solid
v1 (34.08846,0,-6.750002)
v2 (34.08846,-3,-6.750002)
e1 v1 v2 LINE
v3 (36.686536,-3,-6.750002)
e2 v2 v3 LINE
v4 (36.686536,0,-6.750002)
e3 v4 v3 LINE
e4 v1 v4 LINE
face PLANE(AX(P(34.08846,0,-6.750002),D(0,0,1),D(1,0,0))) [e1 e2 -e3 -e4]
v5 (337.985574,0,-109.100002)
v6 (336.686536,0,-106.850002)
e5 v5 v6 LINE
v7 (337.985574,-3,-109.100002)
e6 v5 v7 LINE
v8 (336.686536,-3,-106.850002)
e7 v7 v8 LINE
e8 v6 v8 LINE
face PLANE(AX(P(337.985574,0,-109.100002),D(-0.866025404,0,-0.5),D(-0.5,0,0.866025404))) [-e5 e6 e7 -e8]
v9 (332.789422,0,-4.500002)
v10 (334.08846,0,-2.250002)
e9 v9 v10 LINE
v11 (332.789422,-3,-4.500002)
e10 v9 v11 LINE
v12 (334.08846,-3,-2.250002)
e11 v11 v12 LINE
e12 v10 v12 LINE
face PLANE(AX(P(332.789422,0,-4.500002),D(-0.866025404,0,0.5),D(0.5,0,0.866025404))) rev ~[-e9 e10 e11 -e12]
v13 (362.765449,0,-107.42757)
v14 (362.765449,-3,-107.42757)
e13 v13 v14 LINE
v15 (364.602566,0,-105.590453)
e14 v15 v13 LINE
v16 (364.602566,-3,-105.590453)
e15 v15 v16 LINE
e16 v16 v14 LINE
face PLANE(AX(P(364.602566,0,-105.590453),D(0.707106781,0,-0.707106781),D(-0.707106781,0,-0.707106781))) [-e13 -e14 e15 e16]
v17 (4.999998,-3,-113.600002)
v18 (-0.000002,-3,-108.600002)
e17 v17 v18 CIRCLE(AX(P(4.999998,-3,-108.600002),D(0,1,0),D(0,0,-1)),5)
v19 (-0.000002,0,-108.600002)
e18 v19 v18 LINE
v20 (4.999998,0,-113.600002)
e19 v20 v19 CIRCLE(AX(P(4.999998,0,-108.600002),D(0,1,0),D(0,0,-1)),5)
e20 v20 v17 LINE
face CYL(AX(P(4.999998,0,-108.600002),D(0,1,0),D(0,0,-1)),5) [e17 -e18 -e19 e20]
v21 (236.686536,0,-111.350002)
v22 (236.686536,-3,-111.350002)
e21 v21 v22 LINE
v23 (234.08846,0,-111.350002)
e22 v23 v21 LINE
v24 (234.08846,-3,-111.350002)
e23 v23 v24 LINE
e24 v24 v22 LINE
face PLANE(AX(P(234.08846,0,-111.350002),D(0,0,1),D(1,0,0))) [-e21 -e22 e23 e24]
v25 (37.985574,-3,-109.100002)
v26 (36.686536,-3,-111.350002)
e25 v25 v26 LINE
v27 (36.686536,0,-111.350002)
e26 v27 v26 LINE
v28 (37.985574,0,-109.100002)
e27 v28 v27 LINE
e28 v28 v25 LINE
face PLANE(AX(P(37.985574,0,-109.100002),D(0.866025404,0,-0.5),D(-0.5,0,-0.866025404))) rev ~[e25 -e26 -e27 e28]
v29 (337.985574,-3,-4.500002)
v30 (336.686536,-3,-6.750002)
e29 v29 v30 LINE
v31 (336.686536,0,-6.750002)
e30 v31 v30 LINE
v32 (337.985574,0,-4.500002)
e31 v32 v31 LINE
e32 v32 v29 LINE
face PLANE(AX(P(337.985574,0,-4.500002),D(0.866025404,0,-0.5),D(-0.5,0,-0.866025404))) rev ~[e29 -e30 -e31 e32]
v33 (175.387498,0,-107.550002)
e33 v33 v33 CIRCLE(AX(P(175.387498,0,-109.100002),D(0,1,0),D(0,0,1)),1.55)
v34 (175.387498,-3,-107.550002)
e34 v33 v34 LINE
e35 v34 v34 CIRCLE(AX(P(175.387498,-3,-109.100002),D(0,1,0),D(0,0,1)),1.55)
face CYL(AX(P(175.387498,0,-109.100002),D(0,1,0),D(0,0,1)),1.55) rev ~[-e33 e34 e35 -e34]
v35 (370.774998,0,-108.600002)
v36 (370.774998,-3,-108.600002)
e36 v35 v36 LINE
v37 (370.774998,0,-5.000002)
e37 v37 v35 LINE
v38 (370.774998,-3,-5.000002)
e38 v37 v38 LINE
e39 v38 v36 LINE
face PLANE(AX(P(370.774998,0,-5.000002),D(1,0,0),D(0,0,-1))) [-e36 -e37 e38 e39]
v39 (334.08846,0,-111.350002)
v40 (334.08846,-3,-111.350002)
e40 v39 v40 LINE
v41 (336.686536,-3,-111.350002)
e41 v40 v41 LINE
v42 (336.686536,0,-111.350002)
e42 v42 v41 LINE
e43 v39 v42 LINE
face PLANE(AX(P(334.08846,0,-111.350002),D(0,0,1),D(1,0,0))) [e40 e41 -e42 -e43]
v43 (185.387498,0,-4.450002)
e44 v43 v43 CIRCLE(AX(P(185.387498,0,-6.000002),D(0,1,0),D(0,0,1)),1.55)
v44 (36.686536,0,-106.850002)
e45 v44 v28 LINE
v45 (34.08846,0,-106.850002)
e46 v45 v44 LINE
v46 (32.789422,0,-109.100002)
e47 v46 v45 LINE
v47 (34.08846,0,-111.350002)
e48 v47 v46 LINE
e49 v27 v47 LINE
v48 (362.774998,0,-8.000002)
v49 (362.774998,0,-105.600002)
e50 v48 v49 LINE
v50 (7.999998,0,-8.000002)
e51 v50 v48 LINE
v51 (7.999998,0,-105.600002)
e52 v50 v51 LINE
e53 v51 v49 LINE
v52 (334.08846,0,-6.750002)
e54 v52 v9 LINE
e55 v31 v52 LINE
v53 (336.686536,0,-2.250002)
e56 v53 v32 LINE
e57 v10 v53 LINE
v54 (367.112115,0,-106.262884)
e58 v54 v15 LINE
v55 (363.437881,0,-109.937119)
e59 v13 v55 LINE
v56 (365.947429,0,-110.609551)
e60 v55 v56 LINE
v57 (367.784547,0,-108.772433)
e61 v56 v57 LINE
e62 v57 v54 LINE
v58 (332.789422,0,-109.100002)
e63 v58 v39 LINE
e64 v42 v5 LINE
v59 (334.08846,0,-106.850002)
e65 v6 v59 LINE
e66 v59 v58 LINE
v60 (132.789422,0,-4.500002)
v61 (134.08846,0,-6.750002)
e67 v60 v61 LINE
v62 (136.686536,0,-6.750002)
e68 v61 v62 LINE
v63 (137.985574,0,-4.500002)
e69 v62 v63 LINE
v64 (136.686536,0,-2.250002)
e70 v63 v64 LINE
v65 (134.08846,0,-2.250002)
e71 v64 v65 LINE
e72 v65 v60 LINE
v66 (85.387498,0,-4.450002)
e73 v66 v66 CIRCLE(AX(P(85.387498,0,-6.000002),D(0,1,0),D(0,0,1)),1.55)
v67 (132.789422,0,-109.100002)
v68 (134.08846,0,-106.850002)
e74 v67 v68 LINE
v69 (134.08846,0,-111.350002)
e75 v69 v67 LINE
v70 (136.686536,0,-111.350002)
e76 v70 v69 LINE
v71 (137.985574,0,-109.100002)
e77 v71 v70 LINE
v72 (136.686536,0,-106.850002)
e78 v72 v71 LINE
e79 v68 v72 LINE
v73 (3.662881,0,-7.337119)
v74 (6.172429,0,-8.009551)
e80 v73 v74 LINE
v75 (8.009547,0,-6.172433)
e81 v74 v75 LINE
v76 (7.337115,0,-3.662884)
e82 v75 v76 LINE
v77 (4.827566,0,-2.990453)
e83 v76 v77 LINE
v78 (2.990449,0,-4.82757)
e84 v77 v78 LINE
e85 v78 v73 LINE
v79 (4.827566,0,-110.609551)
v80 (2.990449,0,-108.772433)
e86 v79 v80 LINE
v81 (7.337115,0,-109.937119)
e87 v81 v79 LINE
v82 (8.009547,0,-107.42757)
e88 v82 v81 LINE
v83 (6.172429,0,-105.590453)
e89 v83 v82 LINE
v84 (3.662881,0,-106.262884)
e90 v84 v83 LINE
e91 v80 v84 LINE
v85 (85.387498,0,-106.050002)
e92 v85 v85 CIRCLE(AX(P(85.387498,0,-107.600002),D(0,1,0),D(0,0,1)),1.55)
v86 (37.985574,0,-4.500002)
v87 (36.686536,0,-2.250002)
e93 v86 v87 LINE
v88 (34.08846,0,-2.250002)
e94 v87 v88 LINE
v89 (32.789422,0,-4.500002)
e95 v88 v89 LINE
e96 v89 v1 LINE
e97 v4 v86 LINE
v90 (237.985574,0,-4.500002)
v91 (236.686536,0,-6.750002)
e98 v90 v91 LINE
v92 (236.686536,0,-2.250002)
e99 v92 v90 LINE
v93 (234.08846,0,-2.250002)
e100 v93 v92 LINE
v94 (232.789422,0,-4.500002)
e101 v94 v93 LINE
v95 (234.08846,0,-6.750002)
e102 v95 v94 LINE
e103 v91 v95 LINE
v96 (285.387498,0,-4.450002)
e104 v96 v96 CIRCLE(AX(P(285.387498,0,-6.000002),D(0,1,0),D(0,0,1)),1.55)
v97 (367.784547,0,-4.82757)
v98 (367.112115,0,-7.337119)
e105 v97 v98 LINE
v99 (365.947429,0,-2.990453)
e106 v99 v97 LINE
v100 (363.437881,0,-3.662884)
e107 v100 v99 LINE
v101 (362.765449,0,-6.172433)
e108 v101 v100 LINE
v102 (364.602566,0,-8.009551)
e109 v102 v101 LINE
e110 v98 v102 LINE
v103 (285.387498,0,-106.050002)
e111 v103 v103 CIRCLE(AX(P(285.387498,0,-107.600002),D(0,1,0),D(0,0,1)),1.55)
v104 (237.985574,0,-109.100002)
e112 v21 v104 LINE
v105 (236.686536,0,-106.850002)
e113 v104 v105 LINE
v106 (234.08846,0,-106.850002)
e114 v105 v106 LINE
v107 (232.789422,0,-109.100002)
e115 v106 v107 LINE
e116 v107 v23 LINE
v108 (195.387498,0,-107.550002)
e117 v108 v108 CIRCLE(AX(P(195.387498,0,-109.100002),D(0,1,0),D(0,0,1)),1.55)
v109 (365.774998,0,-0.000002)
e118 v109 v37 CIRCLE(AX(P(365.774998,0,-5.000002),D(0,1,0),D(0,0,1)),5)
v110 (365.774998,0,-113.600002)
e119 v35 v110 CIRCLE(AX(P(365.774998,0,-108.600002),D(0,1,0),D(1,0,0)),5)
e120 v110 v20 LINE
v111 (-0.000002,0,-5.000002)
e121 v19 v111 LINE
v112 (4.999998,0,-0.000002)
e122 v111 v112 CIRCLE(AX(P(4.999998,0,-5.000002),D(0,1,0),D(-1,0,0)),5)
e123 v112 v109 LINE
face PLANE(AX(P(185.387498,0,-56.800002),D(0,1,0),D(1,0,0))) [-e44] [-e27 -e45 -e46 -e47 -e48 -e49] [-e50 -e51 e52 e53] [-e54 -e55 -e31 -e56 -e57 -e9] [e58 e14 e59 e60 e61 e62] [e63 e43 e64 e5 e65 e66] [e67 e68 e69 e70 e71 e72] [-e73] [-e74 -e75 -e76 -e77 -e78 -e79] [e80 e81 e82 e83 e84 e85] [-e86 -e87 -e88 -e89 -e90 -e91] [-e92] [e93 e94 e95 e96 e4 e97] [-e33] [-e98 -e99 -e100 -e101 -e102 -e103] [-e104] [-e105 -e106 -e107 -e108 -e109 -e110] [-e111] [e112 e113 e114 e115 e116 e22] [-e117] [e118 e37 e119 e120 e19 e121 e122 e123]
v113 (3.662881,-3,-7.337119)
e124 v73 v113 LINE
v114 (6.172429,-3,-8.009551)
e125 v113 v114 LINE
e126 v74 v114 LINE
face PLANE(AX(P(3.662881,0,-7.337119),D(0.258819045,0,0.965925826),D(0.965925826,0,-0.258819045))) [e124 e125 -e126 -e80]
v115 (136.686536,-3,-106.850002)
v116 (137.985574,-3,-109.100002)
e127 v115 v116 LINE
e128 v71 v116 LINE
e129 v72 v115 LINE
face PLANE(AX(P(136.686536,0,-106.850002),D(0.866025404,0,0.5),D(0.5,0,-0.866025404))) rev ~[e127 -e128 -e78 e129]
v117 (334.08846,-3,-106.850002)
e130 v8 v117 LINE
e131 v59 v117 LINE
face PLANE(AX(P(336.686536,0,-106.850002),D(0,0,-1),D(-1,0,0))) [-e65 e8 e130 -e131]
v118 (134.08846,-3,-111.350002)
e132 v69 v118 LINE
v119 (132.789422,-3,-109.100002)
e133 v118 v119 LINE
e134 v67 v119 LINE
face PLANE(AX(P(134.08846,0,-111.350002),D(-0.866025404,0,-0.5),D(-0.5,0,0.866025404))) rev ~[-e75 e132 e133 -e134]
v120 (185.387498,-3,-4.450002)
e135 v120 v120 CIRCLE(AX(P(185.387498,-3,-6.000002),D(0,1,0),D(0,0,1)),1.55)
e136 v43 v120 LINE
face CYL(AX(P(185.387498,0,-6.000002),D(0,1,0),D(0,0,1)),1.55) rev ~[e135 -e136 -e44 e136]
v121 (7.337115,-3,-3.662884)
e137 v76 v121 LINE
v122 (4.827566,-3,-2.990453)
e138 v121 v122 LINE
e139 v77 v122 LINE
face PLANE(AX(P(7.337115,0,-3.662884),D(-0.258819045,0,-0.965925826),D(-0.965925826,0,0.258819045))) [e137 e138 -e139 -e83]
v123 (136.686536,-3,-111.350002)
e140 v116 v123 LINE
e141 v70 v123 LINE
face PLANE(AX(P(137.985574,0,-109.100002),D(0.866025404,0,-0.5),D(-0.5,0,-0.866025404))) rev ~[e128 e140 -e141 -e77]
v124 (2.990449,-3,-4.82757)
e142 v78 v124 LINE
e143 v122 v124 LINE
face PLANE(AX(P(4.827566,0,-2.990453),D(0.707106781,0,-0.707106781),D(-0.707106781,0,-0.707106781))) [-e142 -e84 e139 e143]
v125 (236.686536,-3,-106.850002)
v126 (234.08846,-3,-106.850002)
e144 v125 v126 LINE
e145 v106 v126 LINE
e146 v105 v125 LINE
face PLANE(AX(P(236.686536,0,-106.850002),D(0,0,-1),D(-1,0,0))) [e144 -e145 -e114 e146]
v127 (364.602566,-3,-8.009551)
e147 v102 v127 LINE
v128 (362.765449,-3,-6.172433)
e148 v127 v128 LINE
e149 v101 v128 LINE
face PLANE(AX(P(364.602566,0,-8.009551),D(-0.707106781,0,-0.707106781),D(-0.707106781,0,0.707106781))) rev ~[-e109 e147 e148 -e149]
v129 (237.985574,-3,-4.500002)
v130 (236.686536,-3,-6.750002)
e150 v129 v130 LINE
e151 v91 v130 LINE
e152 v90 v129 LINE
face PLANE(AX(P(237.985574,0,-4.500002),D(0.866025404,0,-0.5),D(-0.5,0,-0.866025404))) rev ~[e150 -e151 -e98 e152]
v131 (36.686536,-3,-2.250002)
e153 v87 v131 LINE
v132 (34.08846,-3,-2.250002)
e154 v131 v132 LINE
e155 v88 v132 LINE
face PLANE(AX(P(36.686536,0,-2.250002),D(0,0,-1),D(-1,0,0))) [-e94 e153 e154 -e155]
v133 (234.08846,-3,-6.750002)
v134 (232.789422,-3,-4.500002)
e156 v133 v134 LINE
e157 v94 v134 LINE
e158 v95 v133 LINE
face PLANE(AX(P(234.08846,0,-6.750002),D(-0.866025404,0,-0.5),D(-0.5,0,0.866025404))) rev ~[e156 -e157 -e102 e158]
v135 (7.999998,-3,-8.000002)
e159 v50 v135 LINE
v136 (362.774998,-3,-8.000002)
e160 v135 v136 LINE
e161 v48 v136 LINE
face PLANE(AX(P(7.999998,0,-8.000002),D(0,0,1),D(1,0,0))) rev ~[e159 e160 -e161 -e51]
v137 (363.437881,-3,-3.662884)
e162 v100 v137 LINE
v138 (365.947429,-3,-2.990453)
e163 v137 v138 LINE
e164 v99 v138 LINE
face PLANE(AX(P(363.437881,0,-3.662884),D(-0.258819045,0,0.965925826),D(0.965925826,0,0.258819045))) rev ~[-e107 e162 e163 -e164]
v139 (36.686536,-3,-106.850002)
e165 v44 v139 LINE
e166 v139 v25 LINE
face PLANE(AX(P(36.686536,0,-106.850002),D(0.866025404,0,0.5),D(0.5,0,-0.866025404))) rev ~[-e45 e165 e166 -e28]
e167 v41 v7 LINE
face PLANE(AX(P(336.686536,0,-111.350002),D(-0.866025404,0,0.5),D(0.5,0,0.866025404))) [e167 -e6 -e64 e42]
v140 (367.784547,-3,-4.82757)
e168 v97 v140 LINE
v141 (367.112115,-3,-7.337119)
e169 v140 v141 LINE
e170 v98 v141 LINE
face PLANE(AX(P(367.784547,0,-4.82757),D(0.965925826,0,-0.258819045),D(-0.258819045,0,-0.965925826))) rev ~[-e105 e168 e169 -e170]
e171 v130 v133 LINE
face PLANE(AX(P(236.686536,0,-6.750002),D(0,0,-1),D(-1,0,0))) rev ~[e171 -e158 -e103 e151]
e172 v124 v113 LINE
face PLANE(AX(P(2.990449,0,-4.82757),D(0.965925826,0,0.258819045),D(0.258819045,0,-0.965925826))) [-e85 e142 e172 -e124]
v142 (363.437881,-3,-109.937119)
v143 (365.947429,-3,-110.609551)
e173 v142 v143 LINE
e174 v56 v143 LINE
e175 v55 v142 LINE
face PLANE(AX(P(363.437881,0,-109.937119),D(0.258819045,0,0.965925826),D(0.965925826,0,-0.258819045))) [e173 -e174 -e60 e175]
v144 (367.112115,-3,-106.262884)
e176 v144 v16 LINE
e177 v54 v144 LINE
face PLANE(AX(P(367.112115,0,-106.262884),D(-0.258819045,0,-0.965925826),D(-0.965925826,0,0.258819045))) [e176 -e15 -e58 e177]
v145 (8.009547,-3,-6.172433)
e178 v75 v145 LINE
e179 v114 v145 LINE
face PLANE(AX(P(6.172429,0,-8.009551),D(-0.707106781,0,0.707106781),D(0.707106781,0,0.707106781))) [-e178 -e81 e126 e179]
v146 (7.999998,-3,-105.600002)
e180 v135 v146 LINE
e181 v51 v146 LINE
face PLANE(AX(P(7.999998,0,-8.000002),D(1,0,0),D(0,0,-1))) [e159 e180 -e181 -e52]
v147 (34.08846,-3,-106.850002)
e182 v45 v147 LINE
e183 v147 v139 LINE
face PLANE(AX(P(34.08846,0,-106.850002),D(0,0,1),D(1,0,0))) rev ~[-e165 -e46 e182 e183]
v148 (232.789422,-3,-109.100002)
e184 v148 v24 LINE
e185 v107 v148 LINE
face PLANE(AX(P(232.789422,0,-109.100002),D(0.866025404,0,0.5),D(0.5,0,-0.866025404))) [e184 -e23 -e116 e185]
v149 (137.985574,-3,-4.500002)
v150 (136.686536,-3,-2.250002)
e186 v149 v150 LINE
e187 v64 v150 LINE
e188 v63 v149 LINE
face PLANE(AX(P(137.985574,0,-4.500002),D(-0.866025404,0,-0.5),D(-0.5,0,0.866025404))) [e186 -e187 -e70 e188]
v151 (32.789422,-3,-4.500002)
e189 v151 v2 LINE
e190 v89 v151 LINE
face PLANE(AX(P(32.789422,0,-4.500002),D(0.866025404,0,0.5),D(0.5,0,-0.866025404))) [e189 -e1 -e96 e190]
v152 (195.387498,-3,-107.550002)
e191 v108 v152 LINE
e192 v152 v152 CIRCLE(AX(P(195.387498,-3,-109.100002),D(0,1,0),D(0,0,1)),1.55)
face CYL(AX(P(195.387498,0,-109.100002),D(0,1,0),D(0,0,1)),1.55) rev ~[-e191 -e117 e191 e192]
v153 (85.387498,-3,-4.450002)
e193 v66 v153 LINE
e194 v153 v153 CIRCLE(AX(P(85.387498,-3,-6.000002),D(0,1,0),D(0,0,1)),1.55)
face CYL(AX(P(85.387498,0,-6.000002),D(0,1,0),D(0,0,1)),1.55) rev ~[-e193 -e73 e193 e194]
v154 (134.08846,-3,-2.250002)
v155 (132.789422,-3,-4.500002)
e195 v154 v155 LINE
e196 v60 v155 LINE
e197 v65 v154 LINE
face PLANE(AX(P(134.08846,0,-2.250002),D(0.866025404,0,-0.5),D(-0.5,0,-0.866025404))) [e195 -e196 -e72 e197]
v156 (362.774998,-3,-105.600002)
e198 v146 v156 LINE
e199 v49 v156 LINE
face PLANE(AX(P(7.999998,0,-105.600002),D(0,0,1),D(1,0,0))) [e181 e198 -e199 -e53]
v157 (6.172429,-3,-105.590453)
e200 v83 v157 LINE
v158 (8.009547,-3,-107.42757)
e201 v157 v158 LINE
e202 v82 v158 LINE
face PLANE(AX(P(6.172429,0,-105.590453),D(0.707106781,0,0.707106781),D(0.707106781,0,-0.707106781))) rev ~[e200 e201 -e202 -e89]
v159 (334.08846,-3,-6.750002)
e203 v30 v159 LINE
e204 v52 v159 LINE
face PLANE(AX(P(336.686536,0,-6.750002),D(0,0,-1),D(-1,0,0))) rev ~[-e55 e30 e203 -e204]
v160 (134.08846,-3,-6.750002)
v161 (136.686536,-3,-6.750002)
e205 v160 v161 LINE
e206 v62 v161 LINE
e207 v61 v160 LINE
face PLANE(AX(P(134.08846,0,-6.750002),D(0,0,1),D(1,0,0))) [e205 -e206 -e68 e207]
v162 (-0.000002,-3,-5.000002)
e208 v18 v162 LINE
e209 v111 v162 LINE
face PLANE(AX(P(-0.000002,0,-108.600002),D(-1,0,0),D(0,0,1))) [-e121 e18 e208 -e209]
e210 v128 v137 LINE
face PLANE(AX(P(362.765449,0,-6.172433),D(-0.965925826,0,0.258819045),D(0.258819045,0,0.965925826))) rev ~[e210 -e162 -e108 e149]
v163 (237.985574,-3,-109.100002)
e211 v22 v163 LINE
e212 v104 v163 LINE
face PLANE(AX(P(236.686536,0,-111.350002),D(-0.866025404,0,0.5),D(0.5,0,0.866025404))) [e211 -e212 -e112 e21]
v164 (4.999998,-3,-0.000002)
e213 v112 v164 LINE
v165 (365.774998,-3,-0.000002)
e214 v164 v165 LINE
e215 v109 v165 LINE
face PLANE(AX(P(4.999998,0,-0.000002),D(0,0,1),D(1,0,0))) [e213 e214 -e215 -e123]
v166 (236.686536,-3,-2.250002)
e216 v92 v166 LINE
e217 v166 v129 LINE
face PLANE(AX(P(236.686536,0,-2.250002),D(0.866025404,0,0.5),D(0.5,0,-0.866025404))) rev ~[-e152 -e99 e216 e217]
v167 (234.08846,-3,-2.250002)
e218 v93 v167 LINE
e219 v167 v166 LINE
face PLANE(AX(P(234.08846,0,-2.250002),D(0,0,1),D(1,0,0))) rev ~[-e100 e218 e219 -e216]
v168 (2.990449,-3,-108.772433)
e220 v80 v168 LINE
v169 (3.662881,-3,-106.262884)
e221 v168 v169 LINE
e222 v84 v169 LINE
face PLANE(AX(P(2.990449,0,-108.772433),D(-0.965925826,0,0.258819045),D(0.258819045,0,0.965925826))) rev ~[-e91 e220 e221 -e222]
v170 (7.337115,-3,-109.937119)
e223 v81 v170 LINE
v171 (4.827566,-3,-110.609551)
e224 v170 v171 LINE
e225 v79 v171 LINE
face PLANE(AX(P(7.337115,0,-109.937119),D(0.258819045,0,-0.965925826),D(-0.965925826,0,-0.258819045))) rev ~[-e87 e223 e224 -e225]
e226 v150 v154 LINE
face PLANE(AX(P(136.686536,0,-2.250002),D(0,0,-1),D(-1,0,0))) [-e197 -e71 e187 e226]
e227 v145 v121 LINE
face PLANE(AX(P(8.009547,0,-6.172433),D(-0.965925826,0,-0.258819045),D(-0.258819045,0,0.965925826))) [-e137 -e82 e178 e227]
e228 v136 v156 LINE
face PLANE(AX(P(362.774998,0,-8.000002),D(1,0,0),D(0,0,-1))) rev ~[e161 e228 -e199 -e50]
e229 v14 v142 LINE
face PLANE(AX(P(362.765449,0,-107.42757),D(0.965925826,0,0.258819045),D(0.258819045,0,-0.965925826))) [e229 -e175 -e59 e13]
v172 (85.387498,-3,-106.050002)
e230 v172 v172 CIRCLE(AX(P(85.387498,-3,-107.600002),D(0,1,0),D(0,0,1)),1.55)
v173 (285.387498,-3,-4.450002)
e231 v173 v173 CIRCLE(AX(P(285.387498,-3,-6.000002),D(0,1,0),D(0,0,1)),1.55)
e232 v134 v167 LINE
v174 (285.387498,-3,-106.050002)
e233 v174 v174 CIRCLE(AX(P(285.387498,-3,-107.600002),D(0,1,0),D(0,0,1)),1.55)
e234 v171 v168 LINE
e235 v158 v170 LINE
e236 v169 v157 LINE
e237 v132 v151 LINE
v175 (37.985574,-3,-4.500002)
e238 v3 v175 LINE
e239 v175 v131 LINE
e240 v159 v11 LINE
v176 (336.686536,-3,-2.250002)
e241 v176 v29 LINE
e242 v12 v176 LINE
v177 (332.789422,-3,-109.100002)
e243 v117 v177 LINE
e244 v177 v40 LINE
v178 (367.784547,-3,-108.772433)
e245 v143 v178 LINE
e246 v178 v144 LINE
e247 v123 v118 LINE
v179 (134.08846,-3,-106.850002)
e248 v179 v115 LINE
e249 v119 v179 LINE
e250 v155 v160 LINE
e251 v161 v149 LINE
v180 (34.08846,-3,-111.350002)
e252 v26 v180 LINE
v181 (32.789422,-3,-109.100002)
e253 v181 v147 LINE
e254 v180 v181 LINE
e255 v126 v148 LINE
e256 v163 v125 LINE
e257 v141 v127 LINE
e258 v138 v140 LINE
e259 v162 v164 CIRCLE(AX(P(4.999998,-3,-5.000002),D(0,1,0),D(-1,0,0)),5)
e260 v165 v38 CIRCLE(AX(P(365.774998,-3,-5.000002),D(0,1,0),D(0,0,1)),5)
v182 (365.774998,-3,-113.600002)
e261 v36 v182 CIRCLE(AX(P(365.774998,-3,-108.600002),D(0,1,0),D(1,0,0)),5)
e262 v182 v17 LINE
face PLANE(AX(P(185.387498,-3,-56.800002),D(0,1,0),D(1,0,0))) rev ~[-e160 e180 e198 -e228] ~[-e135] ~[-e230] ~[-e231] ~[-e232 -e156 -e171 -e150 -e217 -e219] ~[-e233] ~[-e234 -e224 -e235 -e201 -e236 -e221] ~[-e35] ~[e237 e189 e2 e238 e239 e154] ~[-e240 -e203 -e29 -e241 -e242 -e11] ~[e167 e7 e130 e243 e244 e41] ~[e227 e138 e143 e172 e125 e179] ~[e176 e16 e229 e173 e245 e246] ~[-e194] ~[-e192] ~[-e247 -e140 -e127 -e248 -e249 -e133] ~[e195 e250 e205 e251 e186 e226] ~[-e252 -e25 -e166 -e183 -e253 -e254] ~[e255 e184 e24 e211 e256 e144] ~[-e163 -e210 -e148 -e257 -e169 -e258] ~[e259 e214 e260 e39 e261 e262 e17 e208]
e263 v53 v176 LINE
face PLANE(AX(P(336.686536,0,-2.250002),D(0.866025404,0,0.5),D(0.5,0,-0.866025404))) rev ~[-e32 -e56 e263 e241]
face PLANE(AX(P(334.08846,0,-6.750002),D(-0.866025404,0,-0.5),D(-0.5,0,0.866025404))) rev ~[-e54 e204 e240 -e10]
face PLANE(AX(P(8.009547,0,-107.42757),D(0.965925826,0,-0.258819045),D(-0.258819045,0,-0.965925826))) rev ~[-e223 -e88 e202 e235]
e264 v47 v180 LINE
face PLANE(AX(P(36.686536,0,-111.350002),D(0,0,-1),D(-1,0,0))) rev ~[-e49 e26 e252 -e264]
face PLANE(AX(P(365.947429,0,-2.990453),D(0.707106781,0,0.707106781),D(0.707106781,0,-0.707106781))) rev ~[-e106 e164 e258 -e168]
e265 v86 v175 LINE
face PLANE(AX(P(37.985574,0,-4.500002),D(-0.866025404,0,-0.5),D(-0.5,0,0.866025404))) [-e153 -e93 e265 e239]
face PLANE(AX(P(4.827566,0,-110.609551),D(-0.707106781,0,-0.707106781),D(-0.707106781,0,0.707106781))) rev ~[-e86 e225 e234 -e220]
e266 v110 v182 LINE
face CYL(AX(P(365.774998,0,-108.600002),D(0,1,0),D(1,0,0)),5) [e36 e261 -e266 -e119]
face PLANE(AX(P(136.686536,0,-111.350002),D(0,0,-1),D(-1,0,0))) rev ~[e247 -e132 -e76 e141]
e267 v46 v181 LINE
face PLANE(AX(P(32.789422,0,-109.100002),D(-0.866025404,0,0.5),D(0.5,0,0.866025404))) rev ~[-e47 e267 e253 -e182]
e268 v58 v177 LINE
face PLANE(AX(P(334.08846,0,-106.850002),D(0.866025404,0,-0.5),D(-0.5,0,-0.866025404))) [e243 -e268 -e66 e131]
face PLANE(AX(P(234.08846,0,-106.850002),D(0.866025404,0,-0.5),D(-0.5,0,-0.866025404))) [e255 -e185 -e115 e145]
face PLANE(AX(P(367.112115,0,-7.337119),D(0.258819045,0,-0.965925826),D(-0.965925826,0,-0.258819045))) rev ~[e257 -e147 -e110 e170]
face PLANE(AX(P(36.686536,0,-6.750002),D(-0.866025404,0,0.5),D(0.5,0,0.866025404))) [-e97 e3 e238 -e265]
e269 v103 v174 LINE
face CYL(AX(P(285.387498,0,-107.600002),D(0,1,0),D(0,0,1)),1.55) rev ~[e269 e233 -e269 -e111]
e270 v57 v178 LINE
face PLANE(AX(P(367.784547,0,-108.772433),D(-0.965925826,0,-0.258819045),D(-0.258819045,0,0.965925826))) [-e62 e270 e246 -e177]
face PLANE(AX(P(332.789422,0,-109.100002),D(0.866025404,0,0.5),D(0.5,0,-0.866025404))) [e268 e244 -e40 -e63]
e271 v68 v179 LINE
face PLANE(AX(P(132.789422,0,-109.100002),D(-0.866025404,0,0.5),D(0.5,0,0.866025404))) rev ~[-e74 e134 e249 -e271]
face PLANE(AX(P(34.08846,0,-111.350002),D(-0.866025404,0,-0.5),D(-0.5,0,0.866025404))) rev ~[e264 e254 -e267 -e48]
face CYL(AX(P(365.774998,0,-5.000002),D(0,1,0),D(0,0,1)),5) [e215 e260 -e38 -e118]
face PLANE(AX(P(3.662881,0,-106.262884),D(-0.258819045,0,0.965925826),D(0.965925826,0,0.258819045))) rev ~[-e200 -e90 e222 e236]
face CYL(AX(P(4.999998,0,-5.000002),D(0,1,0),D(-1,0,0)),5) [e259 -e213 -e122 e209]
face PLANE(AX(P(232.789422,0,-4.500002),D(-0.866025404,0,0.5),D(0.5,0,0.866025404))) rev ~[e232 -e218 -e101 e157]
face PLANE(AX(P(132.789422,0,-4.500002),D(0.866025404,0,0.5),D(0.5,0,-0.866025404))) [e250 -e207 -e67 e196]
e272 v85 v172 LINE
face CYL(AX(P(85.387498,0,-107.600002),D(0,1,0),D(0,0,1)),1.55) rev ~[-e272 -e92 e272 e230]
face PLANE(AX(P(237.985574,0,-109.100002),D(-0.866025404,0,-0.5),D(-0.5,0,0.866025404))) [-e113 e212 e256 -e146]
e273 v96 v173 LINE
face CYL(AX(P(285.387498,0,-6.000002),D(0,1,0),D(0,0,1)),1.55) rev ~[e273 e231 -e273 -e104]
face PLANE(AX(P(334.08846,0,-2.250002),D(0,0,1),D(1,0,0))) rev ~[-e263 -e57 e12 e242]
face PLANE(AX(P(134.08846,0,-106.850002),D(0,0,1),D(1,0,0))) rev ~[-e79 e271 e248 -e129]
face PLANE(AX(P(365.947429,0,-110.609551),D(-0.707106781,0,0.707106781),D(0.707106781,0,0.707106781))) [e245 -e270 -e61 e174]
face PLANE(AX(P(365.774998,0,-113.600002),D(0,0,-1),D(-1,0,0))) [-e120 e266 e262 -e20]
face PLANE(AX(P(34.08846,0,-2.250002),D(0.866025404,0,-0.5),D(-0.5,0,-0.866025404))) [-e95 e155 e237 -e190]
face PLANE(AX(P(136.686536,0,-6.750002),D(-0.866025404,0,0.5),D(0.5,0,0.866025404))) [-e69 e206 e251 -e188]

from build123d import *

# Parameters (mm, degrees)
SKETCH1_R           = 1.55
SKETCH1_W           = 354.775
SKETCH1_H           = 97.6
BOSS_EXTRUDE1_DEPTH = 3


with BuildPart() as part:
    # Sketch1 → Boss-Extrude1 (new body)
    with BuildSketch(Plane(origin=(0, 0, 0), x_dir=(1, 0, 0), z_dir=(0, 1, 0))):
        with BuildLine():
            Line((-2.165e-06, 108.600001782), (-2.165e-06, 5.000001782))
            ThreePointArc((-2.165e-06, 5.000001782), (1.464463929, 1.464467876), (4.999997835, 1.782e-06))
            Line((4.999997835, 1.782e-06), (365.774997835, 1.782e-06))
            ThreePointArc((365.774997835, 1.782e-06), (369.31053174, 1.464467876), (370.774997835, 5.000001782))
            Line((370.774997835, 5.000001782), (370.774997835, 108.600001782))
            ThreePointArc((370.774997835, 108.600001782), (369.31053174, 112.135535688), (365.774997835, 113.600001782))
            Line((365.774997835, 113.600001782), (4.999997835, 113.600001782))
            ThreePointArc((4.999997835, 113.600001782), (1.464463929, 112.135535688), (-2.165e-06, 108.600001782))
        make_face()
        with Locations(Location((195.387497835, 109.100001782, 0), (0, 0, 270))):
            Circle(SKETCH1_R, mode=Mode.SUBTRACT)
        with Locations(Location((175.387497835, 109.100001782, 0), (0, 0, 270))):
            Circle(SKETCH1_R, mode=Mode.SUBTRACT)
        with Locations(Location((85.387497835, 107.600001782, 0), (0, 0, 270))):
            Circle(SKETCH1_R, mode=Mode.SUBTRACT)
        with Locations(Location((285.387497835, 107.600001782, 0), (0, 0, 270))):
            Circle(SKETCH1_R, mode=Mode.SUBTRACT)
        with Locations(Location((85.387497835, 6.000001782, 0), (0, 0, 270))):
            Circle(SKETCH1_R, mode=Mode.SUBTRACT)
        with Locations(Location((185.387497835, 6.000001782, 0), (0, 0, 270))):
            Circle(SKETCH1_R, mode=Mode.SUBTRACT)
        with Locations(Location((285.387497835, 6.000001782, 0), (0, 0, 270))):
            Circle(SKETCH1_R, mode=Mode.SUBTRACT)
        with Locations((185.387497835, 56.800001782)):
            Rectangle(SKETCH1_W, SKETCH1_H, mode=Mode.SUBTRACT)
        Polygon((234.088459729, 111.350001782), (236.68653594, 111.350001782), (237.985574046, 109.100001782), (236.68653594, 106.850001782), (234.088459729, 106.850001782), (232.789421623, 109.100001782), align=None, mode=Mode.SUBTRACT)
        Polygon((334.088459729, 111.350001782), (336.68653594, 111.350001782), (337.985574046, 109.100001782), (336.68653594, 106.850001782), (334.088459729, 106.850001782), (332.789421623, 109.100001782), align=None, mode=Mode.SUBTRACT)
        Polygon((365.947429439, 110.609550693), (367.784546746, 108.772433386), (367.112115142, 106.262884475), (364.60256623, 105.590452871), (362.765448923, 107.427570178), (363.437880527, 109.937119089), align=None, mode=Mode.SUBTRACT)
        Polygon((136.68653594, 111.350001782), (134.088459729, 111.350001782), (132.789421623, 109.100001782), (134.088459729, 106.850001782), (136.68653594, 106.850001782), (137.985574046, 109.100001782), align=None, mode=Mode.SUBTRACT)
        Polygon((36.68653594, 111.350001782), (34.088459729, 111.350001782), (32.789421623, 109.100001782), (34.088459729, 106.850001782), (36.68653594, 106.850001782), (37.985574046, 109.100001782), align=None, mode=Mode.SUBTRACT)
        Polygon((4.82756623, 110.609550693), (2.990448923, 108.772433386), (3.662880527, 106.262884475), (6.172429439, 105.590452871), (8.009546746, 107.427570178), (7.337115142, 109.937119089), align=None, mode=Mode.SUBTRACT)
        Polygon((234.088459729, 2.250001782), (236.68653594, 2.250001782), (237.985574046, 4.500001782), (236.68653594, 6.750001782), (234.088459729, 6.750001782), (232.789421623, 4.500001782), align=None, mode=Mode.SUBTRACT)
        Polygon((334.088459729, 2.250001782), (336.68653594, 2.250001782), (337.985574046, 4.500001782), (336.68653594, 6.750001782), (334.088459729, 6.750001782), (332.789421623, 4.500001782), align=None, mode=Mode.SUBTRACT)
        Polygon((365.947429439, 2.990452871), (367.784546746, 4.827570178), (367.112115142, 7.337119089), (364.60256623, 8.009550693), (362.765448923, 6.172433386), (363.437880527, 3.662884475), align=None, mode=Mode.SUBTRACT)
        Polygon((136.68653594, 2.250001782), (134.088459729, 2.250001782), (132.789421623, 4.500001782), (134.088459729, 6.750001782), (136.68653594, 6.750001782), (137.985574046, 4.500001782), align=None, mode=Mode.SUBTRACT)
        Polygon((36.68653594, 2.250001782), (34.088459729, 2.250001782), (32.789421623, 4.500001782), (34.088459729, 6.750001782), (36.68653594, 6.750001782), (37.985574046, 4.500001782), align=None, mode=Mode.SUBTRACT)
        Polygon((4.82756623, 2.990452871), (2.990448923, 4.827570178), (3.662880527, 7.337119089), (6.172429439, 8.009550693), (8.009546746, 6.172433386), (7.337115142, 3.662884475), align=None, mode=Mode.SUBTRACT)
    extrude(amount=-BOSS_EXTRUDE1_DEPTH)


solid = part.part
